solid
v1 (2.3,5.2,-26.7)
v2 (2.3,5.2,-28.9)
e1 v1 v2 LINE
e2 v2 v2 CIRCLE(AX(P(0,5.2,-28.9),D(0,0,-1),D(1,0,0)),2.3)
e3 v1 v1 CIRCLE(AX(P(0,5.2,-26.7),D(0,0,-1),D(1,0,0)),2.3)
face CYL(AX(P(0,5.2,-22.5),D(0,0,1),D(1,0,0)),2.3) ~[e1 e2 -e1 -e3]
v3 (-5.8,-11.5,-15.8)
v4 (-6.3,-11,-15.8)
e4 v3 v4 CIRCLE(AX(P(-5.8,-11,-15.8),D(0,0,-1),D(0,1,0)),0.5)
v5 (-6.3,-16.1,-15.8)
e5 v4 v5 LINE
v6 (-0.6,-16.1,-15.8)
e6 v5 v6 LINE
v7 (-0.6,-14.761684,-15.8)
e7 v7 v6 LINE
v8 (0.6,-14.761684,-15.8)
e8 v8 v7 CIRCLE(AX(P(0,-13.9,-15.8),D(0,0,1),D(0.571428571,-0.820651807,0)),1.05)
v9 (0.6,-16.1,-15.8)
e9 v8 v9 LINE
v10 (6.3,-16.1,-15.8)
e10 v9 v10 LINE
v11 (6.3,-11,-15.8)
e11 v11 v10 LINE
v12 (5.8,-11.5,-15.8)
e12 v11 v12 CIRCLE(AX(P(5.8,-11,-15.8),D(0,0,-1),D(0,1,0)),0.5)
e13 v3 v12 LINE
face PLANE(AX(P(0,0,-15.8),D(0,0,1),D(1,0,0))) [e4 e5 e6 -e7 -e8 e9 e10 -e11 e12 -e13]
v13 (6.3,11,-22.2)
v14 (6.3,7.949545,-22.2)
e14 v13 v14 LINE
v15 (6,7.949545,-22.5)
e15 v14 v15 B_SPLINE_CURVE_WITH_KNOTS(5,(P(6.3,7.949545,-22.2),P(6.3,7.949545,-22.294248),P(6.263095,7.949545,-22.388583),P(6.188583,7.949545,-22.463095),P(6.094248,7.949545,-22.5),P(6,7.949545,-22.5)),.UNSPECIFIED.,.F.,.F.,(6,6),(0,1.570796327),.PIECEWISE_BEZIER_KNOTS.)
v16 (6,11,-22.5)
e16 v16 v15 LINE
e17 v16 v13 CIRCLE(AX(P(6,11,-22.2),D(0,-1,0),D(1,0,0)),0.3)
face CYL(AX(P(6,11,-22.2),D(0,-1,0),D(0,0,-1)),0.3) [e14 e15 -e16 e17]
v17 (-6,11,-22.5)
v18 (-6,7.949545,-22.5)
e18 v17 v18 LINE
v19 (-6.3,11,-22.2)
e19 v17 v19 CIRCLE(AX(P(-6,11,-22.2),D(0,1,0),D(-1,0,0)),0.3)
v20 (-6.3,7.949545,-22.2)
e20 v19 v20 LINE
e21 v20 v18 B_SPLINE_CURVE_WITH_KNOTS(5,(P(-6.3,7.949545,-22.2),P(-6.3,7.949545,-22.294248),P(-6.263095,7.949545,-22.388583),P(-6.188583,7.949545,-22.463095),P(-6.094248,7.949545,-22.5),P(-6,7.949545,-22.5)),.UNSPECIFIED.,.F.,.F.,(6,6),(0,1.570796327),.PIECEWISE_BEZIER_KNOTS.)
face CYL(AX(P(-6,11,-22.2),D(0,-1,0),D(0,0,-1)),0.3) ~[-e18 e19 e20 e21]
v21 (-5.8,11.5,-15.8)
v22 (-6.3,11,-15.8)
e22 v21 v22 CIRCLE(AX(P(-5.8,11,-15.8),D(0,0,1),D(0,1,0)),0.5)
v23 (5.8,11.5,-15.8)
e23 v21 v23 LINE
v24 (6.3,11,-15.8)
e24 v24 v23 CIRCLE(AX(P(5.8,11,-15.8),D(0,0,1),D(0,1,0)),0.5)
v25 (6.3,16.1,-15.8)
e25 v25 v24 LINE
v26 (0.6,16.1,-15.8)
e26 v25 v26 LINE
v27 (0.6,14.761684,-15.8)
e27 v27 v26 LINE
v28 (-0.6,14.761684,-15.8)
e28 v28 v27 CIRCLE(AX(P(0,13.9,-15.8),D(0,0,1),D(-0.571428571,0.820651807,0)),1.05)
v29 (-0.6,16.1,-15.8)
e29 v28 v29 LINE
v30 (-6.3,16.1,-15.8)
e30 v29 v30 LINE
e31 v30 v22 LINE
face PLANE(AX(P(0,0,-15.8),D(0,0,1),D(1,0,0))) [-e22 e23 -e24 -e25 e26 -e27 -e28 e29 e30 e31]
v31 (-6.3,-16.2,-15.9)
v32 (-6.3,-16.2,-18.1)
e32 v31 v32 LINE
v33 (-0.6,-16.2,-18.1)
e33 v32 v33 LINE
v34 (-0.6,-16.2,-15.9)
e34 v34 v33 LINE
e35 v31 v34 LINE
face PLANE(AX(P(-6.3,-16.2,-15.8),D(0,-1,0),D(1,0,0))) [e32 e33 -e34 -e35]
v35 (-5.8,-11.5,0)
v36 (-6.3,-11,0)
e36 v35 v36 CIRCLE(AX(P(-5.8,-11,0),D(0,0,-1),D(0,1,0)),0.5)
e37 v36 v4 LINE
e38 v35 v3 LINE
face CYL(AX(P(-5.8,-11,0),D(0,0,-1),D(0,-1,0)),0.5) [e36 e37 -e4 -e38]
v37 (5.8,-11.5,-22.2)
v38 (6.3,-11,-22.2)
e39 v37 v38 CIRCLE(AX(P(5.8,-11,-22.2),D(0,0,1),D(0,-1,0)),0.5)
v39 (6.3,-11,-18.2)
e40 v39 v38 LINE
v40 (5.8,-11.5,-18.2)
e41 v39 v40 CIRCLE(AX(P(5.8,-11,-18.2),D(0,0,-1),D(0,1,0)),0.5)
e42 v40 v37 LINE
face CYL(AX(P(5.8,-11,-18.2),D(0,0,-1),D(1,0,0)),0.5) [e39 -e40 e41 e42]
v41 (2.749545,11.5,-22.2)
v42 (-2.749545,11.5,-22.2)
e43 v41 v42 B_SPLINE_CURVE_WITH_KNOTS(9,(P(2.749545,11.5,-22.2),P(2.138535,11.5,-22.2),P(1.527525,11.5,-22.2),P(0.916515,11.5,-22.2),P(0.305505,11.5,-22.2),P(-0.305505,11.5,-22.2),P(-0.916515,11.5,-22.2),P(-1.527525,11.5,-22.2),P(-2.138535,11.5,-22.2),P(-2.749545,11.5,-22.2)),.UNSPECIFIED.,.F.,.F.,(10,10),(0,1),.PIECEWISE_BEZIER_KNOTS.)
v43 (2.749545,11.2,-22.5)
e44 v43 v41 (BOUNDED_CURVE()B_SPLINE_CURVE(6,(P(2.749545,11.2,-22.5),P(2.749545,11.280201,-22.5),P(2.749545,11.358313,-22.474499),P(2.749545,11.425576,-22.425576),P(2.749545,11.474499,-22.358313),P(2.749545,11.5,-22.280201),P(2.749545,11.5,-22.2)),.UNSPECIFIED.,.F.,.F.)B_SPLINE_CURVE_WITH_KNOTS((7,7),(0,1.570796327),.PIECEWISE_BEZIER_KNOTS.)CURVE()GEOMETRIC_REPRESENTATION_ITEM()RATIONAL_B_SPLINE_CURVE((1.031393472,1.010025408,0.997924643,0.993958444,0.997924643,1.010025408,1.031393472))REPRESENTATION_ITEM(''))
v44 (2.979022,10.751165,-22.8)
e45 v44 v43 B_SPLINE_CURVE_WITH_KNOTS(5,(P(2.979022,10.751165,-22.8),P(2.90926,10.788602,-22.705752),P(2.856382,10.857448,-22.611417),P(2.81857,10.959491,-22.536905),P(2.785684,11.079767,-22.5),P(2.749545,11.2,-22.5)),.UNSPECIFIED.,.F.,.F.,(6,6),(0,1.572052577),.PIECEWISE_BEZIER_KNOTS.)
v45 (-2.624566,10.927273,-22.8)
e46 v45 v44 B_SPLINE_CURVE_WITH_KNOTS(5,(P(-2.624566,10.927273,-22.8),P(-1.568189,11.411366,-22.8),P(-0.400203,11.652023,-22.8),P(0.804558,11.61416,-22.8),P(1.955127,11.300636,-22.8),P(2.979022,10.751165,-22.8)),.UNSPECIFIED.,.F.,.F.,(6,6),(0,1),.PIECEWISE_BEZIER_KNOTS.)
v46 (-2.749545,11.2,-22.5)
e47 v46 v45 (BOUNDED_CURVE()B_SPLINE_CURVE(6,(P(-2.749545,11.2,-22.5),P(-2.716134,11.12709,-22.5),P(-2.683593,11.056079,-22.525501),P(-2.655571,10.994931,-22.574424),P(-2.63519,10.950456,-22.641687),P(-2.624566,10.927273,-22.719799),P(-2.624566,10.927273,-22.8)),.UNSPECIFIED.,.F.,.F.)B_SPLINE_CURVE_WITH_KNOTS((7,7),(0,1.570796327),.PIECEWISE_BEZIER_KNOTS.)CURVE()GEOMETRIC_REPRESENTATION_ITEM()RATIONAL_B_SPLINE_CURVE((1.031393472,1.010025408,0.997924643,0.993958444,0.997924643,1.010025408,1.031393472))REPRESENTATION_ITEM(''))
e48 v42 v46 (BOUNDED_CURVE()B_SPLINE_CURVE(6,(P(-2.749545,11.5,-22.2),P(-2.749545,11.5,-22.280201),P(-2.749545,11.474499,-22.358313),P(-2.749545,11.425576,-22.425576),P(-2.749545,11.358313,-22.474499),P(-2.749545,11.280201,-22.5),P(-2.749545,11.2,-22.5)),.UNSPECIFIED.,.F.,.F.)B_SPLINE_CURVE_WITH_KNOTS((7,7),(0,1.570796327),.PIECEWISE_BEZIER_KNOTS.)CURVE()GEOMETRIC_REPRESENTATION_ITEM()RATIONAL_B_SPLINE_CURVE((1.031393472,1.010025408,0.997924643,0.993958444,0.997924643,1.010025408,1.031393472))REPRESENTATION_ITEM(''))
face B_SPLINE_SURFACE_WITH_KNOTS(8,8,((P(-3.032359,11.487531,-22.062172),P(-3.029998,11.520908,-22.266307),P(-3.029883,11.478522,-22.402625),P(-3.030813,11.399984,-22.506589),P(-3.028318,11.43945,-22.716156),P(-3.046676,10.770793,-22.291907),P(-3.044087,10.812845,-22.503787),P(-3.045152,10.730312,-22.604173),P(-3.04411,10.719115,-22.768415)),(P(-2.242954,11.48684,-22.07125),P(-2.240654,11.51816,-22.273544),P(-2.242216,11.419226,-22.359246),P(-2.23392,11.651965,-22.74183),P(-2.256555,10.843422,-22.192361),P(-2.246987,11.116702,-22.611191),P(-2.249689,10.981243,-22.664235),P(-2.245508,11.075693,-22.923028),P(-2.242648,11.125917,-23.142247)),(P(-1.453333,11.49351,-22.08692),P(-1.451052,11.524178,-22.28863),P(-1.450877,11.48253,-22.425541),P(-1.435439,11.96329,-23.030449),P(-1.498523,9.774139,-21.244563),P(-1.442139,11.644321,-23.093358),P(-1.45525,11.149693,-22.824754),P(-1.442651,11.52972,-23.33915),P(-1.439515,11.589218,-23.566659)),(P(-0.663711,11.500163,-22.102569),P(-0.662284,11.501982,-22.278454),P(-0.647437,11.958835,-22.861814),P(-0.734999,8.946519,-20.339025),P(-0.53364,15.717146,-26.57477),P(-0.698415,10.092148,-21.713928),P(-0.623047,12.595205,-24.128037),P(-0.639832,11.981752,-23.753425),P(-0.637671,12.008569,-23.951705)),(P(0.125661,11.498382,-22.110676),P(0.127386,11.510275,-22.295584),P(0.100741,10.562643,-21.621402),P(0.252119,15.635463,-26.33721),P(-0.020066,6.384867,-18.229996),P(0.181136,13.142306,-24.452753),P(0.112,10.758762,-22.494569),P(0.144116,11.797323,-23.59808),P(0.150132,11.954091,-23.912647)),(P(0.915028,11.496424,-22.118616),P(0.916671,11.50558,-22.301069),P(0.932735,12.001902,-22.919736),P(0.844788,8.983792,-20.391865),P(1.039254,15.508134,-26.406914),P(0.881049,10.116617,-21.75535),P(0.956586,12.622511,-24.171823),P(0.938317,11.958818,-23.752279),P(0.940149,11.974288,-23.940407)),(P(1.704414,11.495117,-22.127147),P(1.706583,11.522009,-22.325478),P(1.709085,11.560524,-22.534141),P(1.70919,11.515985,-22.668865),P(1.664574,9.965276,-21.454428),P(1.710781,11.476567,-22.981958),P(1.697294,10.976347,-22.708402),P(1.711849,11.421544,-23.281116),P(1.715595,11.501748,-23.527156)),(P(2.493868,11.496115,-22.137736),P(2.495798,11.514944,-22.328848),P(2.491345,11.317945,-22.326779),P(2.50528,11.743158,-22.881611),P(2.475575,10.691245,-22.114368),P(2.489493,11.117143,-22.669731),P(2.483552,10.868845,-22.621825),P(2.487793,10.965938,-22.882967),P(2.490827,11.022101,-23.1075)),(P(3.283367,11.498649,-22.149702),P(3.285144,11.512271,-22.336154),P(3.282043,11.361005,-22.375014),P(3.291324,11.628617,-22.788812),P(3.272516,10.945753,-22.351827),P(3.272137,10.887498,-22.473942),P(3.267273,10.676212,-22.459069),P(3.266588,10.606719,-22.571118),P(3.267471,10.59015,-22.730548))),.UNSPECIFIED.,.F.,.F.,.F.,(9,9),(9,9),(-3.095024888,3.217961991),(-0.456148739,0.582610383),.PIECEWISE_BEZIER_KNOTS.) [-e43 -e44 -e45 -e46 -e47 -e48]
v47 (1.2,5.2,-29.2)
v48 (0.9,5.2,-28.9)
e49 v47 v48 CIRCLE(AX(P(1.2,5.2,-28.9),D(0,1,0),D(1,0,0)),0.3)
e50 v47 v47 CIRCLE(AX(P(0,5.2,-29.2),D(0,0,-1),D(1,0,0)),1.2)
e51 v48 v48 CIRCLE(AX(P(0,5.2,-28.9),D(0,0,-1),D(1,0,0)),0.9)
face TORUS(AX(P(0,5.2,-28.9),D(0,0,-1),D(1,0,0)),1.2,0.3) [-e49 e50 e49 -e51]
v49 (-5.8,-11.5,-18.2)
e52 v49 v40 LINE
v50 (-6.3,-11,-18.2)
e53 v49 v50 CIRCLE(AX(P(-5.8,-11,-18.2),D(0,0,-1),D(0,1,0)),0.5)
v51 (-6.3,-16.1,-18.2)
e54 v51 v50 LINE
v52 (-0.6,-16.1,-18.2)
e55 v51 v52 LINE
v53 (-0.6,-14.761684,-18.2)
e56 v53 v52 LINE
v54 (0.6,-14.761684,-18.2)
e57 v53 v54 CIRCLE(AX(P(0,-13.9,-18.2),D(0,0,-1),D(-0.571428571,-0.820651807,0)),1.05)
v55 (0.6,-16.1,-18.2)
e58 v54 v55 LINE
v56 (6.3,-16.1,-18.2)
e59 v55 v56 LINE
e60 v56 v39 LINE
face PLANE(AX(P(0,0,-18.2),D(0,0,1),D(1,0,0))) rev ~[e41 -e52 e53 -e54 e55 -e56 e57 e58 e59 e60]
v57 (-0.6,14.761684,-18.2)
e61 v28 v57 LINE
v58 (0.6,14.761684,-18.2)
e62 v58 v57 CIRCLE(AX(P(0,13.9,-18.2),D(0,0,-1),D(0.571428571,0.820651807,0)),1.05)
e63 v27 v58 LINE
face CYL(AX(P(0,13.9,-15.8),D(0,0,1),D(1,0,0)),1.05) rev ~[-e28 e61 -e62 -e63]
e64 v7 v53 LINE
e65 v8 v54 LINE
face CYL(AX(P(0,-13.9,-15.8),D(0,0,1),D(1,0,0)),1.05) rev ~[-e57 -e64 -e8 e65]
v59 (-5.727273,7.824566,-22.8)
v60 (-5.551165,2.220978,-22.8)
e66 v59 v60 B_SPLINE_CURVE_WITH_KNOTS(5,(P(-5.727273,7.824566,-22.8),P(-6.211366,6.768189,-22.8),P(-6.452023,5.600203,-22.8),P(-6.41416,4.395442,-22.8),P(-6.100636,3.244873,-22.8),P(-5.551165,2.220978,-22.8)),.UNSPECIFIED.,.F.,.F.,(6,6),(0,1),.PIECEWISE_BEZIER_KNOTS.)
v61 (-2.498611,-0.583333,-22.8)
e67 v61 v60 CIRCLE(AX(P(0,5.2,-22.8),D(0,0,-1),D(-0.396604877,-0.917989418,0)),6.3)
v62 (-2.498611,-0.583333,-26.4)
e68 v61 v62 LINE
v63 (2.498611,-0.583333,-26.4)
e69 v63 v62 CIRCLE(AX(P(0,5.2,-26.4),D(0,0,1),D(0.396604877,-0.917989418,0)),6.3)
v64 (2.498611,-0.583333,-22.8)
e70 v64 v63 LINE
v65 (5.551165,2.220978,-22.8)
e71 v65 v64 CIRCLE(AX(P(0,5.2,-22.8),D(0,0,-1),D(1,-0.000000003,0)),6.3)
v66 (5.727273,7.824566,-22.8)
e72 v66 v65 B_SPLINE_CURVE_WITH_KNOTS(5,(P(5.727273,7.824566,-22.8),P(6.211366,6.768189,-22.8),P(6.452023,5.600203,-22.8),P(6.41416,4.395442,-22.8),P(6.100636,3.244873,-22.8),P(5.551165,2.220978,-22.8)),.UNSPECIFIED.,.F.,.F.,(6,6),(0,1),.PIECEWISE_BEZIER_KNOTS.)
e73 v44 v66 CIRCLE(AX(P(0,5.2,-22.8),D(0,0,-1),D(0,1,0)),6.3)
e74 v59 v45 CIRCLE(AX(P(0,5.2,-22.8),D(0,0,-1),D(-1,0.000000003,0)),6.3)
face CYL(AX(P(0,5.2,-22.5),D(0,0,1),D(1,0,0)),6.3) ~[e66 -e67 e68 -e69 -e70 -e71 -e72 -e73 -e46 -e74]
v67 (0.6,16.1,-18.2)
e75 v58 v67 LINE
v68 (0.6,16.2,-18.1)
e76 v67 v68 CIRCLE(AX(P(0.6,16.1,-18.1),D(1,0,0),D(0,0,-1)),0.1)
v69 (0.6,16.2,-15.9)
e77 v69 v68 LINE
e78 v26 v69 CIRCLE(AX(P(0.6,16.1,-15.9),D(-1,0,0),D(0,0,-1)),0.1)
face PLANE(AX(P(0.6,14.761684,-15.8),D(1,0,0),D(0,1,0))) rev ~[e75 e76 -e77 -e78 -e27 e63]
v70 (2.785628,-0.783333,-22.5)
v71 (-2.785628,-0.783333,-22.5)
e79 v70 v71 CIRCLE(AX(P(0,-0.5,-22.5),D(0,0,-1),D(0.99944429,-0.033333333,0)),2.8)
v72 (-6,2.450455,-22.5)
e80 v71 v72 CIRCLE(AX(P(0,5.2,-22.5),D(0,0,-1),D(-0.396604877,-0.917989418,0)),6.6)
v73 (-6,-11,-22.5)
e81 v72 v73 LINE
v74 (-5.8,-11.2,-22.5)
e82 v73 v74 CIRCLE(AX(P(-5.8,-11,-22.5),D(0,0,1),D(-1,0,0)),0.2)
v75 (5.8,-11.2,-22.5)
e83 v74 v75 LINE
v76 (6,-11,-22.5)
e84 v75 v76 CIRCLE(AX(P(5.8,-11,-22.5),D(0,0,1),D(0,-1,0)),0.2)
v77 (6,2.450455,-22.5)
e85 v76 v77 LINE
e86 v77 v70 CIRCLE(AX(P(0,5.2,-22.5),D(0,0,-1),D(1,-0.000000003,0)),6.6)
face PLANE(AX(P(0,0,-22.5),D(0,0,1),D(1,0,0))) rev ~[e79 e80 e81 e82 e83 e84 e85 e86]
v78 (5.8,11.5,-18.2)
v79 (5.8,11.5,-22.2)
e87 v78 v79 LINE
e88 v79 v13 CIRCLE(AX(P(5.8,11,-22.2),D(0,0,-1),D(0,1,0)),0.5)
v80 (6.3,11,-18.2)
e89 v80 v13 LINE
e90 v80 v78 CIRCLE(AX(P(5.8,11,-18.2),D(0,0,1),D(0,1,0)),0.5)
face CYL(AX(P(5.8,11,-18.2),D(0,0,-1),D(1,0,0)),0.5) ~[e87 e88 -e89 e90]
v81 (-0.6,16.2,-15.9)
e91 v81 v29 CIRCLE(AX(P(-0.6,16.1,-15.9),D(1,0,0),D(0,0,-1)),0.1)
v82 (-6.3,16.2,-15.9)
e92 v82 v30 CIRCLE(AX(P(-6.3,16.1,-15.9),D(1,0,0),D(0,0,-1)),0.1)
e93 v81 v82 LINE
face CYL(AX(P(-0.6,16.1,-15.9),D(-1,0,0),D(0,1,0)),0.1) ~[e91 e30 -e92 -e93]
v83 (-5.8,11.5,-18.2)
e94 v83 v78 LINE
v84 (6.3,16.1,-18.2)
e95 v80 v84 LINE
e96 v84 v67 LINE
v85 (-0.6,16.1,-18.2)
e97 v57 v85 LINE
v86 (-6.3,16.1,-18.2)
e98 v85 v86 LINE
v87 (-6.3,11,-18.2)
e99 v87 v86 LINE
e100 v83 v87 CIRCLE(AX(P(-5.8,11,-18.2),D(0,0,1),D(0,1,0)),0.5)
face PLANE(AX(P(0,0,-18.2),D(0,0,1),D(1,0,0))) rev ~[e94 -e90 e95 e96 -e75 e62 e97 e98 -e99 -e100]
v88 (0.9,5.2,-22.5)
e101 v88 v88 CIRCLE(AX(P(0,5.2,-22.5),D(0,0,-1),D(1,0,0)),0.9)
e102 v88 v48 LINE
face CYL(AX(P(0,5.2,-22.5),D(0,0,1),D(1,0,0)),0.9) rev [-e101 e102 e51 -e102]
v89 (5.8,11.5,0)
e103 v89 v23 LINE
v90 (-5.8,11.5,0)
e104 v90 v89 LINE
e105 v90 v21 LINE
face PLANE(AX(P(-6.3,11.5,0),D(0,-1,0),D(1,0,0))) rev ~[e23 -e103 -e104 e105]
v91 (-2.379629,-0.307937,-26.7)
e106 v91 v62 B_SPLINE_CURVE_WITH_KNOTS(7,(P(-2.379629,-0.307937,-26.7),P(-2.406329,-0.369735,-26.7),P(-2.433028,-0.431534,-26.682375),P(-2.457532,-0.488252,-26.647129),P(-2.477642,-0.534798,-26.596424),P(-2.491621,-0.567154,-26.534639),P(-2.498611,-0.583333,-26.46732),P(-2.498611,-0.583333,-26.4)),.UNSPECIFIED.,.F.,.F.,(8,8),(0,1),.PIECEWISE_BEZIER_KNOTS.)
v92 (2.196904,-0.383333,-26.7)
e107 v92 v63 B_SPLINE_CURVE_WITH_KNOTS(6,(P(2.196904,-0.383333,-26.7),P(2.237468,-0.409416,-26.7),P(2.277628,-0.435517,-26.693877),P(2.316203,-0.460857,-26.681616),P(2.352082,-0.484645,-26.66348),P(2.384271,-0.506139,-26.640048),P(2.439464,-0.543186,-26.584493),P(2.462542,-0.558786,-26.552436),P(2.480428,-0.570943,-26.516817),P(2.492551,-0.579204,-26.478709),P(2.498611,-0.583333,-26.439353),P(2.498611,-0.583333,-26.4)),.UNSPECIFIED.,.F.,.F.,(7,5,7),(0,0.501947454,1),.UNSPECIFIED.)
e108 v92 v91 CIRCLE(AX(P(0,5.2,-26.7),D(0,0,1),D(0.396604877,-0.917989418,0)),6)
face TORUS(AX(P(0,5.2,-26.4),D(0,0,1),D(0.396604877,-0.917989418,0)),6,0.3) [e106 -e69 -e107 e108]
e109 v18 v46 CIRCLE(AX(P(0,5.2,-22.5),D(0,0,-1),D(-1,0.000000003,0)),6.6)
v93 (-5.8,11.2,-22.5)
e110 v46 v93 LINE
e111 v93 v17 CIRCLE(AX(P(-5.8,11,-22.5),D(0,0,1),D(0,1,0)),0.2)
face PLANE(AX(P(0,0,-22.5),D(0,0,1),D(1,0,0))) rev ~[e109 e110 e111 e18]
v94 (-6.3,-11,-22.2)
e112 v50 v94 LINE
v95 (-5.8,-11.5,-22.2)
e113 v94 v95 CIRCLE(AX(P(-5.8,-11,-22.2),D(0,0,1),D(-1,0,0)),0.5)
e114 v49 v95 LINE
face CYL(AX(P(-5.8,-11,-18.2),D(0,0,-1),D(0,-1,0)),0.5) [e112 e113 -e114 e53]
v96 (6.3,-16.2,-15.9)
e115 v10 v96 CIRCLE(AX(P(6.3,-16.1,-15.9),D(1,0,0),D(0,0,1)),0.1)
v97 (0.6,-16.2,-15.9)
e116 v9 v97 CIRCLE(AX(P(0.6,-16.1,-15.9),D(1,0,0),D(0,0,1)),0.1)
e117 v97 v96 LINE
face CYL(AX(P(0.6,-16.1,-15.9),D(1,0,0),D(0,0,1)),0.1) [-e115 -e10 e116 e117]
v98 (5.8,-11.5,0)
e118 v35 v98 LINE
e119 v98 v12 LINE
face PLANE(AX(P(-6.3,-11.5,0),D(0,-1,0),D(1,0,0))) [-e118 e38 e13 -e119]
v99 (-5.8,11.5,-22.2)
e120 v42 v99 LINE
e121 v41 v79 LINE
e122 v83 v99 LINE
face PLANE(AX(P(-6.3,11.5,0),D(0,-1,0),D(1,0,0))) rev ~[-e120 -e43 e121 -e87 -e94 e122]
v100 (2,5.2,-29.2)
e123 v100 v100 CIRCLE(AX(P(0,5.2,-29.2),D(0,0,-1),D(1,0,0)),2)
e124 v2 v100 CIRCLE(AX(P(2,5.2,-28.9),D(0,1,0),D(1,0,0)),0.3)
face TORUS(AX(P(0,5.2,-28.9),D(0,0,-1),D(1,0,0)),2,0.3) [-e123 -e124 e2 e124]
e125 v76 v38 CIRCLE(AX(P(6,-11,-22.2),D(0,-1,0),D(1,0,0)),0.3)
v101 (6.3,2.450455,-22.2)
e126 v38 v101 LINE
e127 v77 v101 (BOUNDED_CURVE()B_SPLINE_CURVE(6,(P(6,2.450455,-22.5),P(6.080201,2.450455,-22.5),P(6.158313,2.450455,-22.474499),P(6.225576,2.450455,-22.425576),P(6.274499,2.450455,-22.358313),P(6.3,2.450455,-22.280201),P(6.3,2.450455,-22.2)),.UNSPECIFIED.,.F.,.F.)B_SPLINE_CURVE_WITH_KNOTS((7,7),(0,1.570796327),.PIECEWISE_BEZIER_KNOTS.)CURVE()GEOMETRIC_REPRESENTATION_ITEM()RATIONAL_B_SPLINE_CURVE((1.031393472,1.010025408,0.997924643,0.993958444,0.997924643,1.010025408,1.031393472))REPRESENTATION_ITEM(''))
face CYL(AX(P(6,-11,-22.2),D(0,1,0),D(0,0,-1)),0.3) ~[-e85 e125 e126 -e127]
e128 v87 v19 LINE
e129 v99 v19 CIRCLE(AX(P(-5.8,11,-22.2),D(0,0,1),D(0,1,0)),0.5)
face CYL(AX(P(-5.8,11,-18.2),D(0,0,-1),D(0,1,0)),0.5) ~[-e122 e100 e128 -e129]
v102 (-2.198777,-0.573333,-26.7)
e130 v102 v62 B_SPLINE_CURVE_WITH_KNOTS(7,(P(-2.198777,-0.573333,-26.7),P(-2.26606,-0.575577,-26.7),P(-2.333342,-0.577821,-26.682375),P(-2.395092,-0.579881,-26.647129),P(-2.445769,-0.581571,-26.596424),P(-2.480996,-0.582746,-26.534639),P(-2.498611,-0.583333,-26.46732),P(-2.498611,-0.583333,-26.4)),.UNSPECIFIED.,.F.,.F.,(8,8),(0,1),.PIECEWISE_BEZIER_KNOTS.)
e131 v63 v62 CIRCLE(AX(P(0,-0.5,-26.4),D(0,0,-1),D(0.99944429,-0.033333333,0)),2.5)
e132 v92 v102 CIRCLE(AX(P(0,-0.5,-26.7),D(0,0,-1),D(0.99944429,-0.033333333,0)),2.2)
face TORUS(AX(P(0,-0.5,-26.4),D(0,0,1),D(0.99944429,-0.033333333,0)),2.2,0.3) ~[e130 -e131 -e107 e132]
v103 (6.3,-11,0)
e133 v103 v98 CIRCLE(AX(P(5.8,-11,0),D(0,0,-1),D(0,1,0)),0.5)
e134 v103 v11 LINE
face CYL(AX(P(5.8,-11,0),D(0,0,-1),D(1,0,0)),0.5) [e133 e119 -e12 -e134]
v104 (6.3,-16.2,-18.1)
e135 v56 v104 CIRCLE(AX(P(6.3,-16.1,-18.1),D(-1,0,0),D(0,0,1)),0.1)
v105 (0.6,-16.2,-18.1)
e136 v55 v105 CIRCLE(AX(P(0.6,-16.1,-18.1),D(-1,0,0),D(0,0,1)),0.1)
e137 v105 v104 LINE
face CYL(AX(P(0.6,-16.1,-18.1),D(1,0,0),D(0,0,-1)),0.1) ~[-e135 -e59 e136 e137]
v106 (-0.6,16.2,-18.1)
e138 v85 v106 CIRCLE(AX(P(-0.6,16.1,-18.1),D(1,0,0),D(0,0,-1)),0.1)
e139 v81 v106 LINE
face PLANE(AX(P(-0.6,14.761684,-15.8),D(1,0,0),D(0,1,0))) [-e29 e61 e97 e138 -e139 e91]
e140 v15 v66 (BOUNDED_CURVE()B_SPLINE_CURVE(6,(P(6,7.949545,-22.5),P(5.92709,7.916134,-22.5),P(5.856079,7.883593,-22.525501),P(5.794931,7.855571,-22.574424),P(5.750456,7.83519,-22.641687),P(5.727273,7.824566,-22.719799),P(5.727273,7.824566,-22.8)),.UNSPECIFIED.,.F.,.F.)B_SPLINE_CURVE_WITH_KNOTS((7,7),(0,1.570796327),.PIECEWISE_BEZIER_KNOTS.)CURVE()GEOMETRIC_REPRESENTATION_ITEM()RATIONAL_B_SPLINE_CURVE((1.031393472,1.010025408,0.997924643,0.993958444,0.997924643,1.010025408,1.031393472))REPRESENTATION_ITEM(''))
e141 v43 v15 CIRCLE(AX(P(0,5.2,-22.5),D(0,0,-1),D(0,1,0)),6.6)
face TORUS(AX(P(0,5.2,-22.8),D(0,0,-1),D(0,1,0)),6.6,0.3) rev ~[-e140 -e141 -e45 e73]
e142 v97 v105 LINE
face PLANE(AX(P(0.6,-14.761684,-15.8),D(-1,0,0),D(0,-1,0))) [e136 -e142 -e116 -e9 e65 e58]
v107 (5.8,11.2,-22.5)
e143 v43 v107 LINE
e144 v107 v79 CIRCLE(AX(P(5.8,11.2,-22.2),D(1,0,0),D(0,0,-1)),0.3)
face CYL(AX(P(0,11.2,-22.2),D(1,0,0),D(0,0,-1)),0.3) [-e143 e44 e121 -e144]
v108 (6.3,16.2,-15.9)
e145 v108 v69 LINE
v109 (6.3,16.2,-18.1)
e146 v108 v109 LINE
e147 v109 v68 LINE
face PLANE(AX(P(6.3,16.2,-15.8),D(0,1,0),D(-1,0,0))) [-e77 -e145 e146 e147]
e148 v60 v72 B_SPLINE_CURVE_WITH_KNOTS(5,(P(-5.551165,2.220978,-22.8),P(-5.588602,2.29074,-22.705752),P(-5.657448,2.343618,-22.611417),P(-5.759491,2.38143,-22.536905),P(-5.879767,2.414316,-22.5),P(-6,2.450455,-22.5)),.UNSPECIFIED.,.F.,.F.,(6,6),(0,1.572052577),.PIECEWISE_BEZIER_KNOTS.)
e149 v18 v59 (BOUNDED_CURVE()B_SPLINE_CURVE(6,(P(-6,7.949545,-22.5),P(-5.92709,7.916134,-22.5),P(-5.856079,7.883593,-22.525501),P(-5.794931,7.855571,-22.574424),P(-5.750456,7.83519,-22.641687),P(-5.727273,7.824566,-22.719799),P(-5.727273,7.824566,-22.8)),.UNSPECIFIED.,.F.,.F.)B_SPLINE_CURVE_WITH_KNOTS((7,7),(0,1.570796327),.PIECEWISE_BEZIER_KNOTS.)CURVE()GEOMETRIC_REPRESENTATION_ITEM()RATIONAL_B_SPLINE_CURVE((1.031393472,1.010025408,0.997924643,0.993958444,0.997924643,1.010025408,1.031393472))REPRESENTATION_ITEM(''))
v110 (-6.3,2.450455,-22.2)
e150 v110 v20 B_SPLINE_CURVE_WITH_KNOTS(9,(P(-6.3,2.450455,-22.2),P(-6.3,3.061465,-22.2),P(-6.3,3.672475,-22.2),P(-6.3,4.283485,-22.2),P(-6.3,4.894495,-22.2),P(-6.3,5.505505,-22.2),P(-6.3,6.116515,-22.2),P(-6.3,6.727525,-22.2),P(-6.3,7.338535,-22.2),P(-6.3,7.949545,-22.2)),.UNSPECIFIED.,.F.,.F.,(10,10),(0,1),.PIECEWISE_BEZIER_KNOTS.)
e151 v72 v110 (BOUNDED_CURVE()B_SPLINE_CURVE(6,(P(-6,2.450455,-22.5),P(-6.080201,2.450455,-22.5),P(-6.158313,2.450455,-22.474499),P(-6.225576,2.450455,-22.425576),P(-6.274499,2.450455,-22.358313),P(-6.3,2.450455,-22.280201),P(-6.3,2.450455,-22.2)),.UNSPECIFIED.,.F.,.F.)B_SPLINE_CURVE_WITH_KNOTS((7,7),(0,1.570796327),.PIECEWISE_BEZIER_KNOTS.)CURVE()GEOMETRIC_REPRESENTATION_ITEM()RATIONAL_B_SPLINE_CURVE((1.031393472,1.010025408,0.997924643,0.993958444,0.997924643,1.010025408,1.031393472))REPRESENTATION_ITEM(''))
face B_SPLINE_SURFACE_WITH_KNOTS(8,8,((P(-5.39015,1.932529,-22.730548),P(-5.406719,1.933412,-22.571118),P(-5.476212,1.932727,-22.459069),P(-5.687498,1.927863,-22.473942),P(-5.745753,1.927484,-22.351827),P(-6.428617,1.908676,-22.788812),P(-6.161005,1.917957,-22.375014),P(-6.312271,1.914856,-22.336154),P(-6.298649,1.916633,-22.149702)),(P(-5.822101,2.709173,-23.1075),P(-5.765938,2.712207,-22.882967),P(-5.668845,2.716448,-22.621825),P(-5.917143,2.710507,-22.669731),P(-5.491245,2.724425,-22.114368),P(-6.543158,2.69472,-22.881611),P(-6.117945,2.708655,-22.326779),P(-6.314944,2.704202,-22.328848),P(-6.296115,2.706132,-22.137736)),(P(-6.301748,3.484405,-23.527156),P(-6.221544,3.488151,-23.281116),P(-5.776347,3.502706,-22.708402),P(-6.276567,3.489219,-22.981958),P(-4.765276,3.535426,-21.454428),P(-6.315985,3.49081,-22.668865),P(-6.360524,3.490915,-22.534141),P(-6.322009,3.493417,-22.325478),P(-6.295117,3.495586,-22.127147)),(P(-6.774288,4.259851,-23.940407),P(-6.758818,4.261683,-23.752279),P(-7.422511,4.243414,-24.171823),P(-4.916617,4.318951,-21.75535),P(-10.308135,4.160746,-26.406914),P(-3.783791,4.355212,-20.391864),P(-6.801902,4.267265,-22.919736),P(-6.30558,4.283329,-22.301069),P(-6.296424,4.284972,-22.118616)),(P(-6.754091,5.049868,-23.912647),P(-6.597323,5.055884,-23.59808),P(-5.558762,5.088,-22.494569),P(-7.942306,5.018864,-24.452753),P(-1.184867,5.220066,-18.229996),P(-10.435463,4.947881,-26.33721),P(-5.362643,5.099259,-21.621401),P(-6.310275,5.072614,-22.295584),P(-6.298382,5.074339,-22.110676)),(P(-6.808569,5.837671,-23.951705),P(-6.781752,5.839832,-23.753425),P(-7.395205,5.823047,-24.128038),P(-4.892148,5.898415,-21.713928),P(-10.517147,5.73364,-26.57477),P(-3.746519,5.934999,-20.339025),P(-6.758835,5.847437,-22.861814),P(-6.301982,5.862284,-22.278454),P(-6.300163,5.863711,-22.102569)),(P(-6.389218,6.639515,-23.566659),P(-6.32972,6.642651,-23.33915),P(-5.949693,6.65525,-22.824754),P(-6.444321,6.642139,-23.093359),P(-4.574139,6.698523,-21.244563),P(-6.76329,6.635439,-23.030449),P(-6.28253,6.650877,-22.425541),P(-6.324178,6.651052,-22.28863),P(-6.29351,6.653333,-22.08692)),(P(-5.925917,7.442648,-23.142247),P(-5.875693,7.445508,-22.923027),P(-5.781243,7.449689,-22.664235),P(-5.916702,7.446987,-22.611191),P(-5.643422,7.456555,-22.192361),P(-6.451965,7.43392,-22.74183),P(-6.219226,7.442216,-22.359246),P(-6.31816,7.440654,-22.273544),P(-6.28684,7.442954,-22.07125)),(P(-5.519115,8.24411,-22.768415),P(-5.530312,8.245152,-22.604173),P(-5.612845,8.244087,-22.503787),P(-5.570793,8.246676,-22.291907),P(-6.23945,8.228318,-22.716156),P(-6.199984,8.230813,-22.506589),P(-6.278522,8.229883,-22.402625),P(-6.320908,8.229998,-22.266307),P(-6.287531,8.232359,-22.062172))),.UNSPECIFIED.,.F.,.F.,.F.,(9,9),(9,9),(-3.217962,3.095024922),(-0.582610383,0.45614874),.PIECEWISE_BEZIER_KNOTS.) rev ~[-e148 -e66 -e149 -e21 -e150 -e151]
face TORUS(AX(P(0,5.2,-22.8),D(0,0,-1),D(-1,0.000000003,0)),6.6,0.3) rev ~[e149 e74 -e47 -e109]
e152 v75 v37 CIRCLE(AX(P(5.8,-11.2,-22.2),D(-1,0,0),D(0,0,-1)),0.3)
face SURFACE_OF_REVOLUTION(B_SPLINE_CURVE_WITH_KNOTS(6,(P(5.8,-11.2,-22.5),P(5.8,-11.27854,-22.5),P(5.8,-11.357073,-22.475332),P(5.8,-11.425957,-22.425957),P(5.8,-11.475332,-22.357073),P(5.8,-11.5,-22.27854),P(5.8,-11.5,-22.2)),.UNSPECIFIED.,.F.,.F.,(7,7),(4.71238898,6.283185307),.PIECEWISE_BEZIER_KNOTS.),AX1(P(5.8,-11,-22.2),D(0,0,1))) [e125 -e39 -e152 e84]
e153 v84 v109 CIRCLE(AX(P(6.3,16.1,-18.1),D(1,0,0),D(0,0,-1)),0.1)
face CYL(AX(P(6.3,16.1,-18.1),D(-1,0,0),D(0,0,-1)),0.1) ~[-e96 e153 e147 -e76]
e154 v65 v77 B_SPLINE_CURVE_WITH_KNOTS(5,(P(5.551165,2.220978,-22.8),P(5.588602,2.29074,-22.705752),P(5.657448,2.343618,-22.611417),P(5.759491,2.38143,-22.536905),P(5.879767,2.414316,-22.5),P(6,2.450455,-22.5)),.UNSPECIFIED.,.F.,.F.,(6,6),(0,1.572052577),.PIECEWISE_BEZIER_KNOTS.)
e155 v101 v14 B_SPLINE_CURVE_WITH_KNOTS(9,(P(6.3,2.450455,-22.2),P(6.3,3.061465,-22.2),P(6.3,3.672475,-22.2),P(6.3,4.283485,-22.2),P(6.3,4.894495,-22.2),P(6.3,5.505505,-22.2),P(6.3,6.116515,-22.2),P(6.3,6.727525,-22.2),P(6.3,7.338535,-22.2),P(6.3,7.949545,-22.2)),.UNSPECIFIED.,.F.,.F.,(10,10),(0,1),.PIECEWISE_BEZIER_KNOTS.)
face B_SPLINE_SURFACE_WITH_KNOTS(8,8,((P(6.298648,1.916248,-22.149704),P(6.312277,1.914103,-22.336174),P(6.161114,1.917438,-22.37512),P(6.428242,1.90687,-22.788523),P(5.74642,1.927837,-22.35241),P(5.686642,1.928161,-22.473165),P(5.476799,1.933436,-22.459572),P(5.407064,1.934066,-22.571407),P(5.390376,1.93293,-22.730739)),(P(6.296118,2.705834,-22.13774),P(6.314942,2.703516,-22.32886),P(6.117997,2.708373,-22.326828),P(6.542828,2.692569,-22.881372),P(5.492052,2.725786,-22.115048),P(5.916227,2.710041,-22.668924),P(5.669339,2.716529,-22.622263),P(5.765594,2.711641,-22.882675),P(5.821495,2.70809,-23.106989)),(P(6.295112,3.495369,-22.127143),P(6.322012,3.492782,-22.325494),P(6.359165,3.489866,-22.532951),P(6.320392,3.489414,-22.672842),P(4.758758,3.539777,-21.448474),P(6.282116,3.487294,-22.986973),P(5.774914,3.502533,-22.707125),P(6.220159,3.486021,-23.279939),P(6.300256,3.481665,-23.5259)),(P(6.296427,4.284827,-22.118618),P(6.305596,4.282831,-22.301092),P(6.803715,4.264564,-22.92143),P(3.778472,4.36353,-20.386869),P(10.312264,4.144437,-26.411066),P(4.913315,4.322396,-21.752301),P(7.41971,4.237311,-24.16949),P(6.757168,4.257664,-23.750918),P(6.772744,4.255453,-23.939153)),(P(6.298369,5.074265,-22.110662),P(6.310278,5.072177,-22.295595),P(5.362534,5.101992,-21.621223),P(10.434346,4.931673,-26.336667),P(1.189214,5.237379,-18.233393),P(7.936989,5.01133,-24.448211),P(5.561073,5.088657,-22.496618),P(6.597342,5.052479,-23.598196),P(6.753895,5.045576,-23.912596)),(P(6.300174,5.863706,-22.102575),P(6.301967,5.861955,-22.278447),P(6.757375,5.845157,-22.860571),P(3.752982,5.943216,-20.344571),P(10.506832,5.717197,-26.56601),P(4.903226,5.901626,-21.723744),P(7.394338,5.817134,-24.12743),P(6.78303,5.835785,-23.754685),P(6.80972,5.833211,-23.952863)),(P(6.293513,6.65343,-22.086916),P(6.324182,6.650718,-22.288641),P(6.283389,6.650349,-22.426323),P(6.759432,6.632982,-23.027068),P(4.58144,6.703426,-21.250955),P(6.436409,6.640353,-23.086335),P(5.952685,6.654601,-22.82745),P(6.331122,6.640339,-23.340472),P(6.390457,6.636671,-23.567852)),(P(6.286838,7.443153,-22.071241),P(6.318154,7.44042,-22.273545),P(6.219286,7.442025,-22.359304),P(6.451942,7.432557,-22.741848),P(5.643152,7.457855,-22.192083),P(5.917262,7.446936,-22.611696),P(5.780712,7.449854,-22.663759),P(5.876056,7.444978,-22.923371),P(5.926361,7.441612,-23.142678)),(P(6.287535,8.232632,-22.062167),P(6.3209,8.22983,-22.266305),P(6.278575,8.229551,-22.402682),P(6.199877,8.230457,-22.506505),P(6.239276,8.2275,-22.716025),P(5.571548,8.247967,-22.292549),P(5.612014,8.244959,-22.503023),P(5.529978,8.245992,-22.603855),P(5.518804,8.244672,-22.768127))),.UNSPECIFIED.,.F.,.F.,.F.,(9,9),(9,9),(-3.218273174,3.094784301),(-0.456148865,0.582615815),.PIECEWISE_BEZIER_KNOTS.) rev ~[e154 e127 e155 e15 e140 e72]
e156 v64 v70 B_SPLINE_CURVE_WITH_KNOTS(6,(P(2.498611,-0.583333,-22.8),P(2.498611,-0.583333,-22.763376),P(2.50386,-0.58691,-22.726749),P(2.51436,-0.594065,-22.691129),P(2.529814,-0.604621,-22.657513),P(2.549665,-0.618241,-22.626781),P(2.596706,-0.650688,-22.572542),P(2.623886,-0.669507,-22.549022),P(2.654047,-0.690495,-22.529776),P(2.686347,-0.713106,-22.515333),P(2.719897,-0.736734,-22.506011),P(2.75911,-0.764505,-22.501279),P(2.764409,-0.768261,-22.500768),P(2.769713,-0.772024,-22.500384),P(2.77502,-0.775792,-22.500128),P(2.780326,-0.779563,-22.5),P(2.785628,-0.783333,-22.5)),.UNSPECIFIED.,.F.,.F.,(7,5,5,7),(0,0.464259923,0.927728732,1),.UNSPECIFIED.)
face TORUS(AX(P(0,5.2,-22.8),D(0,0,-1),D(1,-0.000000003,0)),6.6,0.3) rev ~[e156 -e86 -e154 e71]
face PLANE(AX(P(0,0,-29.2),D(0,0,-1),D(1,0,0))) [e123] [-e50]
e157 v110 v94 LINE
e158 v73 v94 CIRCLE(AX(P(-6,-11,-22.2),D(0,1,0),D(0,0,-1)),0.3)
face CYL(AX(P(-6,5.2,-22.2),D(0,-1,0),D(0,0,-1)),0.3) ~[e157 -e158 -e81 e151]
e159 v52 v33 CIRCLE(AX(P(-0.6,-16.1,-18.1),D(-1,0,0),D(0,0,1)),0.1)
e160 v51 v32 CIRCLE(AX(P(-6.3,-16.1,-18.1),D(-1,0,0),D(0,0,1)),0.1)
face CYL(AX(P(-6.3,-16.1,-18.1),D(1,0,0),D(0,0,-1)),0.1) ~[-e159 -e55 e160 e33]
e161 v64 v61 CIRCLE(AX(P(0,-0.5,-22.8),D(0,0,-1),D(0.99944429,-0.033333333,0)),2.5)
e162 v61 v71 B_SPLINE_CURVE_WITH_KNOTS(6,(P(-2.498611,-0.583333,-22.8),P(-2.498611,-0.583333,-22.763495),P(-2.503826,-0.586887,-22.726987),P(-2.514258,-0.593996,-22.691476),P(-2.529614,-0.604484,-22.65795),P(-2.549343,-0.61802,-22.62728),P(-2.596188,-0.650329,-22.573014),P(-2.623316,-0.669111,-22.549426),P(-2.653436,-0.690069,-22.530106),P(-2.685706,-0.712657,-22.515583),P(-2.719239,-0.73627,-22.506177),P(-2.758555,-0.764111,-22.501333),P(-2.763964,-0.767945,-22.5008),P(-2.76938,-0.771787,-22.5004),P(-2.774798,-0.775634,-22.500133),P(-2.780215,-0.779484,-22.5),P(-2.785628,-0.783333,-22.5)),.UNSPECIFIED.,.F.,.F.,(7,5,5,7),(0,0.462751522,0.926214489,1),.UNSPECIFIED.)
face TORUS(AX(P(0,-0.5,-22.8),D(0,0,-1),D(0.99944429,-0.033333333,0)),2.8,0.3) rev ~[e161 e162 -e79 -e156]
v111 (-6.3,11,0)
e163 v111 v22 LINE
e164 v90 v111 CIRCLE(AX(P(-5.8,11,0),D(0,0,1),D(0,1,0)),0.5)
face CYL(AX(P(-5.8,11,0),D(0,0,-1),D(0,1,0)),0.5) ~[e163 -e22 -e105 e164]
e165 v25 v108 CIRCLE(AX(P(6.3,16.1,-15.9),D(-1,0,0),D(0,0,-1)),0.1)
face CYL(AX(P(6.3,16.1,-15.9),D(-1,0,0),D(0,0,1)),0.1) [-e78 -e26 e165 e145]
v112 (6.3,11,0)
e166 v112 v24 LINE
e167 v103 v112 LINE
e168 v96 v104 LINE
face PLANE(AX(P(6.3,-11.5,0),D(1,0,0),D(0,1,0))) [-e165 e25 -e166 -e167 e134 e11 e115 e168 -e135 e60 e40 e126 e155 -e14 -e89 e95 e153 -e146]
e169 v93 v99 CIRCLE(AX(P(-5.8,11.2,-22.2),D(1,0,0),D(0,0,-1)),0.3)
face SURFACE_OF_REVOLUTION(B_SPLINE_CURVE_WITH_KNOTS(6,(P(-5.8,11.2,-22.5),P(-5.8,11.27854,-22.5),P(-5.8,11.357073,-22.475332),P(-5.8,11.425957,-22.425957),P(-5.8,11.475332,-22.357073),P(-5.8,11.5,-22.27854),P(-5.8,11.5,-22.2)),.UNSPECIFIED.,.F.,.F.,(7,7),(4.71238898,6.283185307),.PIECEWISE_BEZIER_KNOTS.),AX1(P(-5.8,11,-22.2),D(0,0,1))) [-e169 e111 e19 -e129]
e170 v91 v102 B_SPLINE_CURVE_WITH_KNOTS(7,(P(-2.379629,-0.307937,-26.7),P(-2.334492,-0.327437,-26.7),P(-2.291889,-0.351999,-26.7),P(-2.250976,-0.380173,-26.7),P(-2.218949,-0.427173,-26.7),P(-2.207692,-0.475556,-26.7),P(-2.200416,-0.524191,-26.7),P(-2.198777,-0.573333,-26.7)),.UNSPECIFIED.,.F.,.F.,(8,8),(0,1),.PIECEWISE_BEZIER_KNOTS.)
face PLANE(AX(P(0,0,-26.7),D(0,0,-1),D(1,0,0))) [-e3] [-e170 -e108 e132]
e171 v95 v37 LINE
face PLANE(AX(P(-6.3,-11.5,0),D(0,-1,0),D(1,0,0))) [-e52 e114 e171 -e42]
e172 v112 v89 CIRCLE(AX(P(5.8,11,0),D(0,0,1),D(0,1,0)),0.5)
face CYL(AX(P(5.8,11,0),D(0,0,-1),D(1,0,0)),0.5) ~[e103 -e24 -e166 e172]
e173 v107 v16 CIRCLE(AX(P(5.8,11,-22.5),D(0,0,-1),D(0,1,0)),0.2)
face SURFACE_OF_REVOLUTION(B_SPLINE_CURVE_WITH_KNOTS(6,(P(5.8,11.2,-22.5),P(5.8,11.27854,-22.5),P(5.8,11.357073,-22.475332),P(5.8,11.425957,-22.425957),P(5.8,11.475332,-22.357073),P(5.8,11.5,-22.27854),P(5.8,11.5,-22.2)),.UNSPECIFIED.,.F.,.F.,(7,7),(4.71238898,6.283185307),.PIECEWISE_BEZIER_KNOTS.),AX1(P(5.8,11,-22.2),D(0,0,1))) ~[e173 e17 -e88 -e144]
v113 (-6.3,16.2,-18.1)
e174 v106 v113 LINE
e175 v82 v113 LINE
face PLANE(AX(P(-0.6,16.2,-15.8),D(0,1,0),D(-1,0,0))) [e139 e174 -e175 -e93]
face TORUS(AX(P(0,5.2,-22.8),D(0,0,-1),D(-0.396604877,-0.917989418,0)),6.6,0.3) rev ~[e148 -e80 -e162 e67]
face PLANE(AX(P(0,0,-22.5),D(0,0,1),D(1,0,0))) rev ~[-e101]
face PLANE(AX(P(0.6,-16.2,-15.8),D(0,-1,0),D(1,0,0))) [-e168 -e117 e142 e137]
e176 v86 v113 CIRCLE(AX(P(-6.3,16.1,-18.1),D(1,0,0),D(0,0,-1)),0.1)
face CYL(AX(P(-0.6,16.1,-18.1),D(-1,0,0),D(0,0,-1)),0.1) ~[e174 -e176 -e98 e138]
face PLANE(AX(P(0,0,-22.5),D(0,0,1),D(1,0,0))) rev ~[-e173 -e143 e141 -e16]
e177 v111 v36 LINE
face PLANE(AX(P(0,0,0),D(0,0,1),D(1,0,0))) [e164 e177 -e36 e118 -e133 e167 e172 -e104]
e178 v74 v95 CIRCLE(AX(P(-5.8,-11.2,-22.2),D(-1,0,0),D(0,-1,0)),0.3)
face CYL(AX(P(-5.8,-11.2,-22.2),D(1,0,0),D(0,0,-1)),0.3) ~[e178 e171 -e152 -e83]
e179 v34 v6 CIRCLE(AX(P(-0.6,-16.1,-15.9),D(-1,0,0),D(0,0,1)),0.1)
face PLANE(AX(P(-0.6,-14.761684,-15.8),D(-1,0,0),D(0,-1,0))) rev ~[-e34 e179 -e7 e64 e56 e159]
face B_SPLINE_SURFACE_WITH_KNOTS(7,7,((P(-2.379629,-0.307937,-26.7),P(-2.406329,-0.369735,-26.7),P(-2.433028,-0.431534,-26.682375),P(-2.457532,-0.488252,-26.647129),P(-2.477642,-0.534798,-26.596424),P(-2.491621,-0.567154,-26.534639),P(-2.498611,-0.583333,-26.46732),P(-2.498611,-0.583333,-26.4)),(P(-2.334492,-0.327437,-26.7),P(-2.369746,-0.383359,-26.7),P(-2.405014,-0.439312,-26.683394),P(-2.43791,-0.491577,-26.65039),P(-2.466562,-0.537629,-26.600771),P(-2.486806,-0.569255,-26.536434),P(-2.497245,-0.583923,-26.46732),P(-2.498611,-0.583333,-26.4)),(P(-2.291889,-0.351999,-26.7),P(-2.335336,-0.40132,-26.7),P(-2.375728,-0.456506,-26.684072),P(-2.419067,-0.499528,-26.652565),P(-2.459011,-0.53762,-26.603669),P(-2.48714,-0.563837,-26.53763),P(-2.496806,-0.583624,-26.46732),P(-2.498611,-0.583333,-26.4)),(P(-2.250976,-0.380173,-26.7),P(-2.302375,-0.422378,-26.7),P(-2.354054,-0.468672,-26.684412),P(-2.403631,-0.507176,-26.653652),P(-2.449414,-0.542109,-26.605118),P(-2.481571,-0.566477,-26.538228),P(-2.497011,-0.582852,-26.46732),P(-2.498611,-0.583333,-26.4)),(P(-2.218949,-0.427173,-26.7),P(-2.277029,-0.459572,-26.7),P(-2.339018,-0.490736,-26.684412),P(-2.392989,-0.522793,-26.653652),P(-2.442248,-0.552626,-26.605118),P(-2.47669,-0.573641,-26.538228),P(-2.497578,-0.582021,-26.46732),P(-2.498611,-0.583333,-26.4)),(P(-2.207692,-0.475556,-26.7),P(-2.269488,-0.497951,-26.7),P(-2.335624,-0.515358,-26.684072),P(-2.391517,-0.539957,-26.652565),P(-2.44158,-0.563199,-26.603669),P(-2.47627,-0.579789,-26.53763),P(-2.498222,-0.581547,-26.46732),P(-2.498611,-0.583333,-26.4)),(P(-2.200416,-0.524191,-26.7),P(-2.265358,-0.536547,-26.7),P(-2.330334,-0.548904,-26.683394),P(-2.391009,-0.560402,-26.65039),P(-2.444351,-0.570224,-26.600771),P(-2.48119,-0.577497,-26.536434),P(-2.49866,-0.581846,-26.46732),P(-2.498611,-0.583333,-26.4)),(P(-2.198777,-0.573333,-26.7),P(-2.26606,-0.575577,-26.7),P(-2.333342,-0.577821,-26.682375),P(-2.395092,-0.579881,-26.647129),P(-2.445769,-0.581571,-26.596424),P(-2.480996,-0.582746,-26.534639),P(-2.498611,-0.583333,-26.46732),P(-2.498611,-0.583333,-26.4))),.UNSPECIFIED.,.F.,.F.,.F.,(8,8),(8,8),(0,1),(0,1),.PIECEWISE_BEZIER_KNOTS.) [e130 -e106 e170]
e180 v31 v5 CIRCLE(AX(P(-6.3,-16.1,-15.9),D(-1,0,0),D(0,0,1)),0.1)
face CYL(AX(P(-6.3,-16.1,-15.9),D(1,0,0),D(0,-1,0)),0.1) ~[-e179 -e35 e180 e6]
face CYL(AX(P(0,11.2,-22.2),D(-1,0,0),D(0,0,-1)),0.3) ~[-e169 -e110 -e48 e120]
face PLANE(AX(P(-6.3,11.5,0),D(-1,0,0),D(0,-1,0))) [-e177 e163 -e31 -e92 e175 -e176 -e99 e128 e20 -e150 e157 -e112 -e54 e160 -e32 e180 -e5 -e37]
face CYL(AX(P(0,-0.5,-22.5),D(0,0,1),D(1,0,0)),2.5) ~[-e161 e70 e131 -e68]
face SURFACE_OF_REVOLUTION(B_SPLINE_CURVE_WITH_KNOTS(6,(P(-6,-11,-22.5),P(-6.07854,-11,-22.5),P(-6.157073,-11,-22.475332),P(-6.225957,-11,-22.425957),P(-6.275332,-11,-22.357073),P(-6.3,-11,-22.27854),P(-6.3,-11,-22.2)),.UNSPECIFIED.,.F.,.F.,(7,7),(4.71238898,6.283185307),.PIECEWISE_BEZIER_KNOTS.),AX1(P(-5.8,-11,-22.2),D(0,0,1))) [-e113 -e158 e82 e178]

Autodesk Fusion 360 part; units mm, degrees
sketch "スケッチ1" plane through (0, 0, 0) normal (0, 0, 1) x (1, 0, 0)
  line L0 (6.3, 16.2) -> (-6.3, 16.2)
  line L1 (-6.3, 16.2) -> (-6.3, -16.2)
  line L2 (-6.3, -16.2) -> (6.3, -16.2)
  line L3 (6.3, -16.2) -> (6.3, 16.2)
  line L4 (6.3, 16.2) -> (-6.3, -16.2) construction
  line L5 (-6.3, 16.2) -> (6.3, -16.2) construction
  line L6 (-6.3, 11.5) -> (6.3, 11.5)
  line L7 (-6.3, 0) -> (6.3, 0) construction
  line L8 (-6.3, -11.5) -> (6.3, -11.5)
  line L9 (0, -16.2) -> (0, 16.2) construction
  circle A0 centre (0, 13.9) radius 1.05
  line L10 (-6.3, 13.9) -> (6.3, 13.9) construction
  line L11 (-0.6, 13.9) -> (-0.6, 16.2)
  line L12 (0.6, 13.9) -> (0.6, 16.2)
  circle A1 centre (0, -13.9) radius 1.05
  line L13 (6.3, -13.9) -> (-6.3, -13.9) construction
  line L14 (-0.6, -13.9) -> (-0.6, -16.2)
  line L15 (0, -13.9) -> (0, -16.2)
  line L16 (0.6, -13.9) -> (0.6, -16.2)
  dimension "d1" = 32.4
  dimension "d2" = 12.6
  dimension "d7" = 11.5
  dimension "d8" = 11.5
  dimension "d9" = 2.1
  dimension "d12" = 13.9
  dimension "d13" = 0.6
  dimension "d14" = 0.6
extrude "押し出し2" add sketch "スケッチ1" against normal blind 22.5 contours L1 L3 L6 L8
extrude "押し出し3" add sketch "スケッチ1" against normal blind 2.4 from surface at -15.8 contours L0 L1 L3 L6 A0 L11 L12 | L1 L2 L3 L8 A1 L14 L16
fillet "フィレット1" radius 0.5 8 edges at (-6.3, -11.5, -7.9) (-6.3, 11.5, -7.9) (6.3, 11.5, -7.9) (6.3, 11.5, -20.35) (-6.3, 11.5, -20.35) (-6.3, -11.5, -20.35) (6.3, -11.5, -20.35) (6.3, -11.5, -7.9)
ref_plane "作業平面2" through (0, 0, -22.5) normal (0, 0, -1) x (-1, 0, 0)
sketch "スケッチ2" plane through (0, 0, -22.5) normal (0, 0, -1) x (1, 0, 0)
  line L0 (0, -11.5) -> (0, 0) construction
  line L1 (6.3, 11.5) -> (-6.3, 11.5) construction
  line L2 (-6.3, 11.5) -> (-6.3, -11.5) construction
  line L3 (-6.3, -11.5) -> (6.3, -11.5) construction
  line L4 (6.3, -11.5) -> (6.3, 11.5) construction
  line L5 (6.3, 11.5) -> (-6.3, -11.5) construction
  line L6 (-6.3, 11.5) -> (6.3, -11.5) construction
  circle A0 centre (0, -5.2) radius 6.3
  circle A1 centre (0, -5.2) radius 2.3
  circle A2 centre (0, -5.2) radius 0.9
  line L7 (0, -11.5) -> (0, 3) construction
  circle A3 centre (0, 0.5) radius 2.5
  dimension "d27" = 23
  dimension "d28" = 12.6
  dimension "d29" = 6.3
  dimension "d30" = 4.6
  dimension "d31" = 1.8
  dimension "d32" = 14.5
  dimension "d33" = 5
extrude "押し出し4" add sketch "スケッチ2" along normal blind 4.2 contours A0 A3 | A0 A3 | A0 A3
extrude "押し出し5" add sketch "スケッチ2" along normal blind 6.7 contours A1
fillet "フィレット2" radius 0.3 2 edges at (-2.1444, 6.0317, -29.2) (-0.8391, 4.8745, -29.2)
fillet "フィレット3" radius 0.3 2 edges at (0, 11.5, -26.7) (0, -3, -26.7)
fillet "フィレット4" radius 0.3 16 edges at (6.3, -2.9, -22.5) (6.1536, -11.3536, -22.5) (0, -11.5, -22.5) (-6.1536, -11.3536, -22.5) (-6.3, -2.9, -22.5) (2.9, 11.5, -22.5) (6.1536, 11.3536, -22.5) (6.3, 8.1, -22.5) (-6.3, 8.1, -22.5) (-6.1536, 11.3536, -22.5) (-2.9, 11.5, -22.5) (-4.4548, 9.6548, -22.5) (0, -3, -22.5) (-5.2646, 1.7396, -22.5) (4.4548, 9.6548, -22.5) (5.2646, 1.7396, -22.5)
fillet "フィレット5" radius 0.1 8 edges at (-3.45, 16.2, -18.2) (3.45, 16.2, -18.2) (-3.45, 16.2, -15.8) (3.45, 16.2, -15.8) (3.45, -16.2, -18.2) (-3.45, -16.2, -18.2) (-3.45, -16.2, -15.8) (3.45, -16.2, -15.8)
